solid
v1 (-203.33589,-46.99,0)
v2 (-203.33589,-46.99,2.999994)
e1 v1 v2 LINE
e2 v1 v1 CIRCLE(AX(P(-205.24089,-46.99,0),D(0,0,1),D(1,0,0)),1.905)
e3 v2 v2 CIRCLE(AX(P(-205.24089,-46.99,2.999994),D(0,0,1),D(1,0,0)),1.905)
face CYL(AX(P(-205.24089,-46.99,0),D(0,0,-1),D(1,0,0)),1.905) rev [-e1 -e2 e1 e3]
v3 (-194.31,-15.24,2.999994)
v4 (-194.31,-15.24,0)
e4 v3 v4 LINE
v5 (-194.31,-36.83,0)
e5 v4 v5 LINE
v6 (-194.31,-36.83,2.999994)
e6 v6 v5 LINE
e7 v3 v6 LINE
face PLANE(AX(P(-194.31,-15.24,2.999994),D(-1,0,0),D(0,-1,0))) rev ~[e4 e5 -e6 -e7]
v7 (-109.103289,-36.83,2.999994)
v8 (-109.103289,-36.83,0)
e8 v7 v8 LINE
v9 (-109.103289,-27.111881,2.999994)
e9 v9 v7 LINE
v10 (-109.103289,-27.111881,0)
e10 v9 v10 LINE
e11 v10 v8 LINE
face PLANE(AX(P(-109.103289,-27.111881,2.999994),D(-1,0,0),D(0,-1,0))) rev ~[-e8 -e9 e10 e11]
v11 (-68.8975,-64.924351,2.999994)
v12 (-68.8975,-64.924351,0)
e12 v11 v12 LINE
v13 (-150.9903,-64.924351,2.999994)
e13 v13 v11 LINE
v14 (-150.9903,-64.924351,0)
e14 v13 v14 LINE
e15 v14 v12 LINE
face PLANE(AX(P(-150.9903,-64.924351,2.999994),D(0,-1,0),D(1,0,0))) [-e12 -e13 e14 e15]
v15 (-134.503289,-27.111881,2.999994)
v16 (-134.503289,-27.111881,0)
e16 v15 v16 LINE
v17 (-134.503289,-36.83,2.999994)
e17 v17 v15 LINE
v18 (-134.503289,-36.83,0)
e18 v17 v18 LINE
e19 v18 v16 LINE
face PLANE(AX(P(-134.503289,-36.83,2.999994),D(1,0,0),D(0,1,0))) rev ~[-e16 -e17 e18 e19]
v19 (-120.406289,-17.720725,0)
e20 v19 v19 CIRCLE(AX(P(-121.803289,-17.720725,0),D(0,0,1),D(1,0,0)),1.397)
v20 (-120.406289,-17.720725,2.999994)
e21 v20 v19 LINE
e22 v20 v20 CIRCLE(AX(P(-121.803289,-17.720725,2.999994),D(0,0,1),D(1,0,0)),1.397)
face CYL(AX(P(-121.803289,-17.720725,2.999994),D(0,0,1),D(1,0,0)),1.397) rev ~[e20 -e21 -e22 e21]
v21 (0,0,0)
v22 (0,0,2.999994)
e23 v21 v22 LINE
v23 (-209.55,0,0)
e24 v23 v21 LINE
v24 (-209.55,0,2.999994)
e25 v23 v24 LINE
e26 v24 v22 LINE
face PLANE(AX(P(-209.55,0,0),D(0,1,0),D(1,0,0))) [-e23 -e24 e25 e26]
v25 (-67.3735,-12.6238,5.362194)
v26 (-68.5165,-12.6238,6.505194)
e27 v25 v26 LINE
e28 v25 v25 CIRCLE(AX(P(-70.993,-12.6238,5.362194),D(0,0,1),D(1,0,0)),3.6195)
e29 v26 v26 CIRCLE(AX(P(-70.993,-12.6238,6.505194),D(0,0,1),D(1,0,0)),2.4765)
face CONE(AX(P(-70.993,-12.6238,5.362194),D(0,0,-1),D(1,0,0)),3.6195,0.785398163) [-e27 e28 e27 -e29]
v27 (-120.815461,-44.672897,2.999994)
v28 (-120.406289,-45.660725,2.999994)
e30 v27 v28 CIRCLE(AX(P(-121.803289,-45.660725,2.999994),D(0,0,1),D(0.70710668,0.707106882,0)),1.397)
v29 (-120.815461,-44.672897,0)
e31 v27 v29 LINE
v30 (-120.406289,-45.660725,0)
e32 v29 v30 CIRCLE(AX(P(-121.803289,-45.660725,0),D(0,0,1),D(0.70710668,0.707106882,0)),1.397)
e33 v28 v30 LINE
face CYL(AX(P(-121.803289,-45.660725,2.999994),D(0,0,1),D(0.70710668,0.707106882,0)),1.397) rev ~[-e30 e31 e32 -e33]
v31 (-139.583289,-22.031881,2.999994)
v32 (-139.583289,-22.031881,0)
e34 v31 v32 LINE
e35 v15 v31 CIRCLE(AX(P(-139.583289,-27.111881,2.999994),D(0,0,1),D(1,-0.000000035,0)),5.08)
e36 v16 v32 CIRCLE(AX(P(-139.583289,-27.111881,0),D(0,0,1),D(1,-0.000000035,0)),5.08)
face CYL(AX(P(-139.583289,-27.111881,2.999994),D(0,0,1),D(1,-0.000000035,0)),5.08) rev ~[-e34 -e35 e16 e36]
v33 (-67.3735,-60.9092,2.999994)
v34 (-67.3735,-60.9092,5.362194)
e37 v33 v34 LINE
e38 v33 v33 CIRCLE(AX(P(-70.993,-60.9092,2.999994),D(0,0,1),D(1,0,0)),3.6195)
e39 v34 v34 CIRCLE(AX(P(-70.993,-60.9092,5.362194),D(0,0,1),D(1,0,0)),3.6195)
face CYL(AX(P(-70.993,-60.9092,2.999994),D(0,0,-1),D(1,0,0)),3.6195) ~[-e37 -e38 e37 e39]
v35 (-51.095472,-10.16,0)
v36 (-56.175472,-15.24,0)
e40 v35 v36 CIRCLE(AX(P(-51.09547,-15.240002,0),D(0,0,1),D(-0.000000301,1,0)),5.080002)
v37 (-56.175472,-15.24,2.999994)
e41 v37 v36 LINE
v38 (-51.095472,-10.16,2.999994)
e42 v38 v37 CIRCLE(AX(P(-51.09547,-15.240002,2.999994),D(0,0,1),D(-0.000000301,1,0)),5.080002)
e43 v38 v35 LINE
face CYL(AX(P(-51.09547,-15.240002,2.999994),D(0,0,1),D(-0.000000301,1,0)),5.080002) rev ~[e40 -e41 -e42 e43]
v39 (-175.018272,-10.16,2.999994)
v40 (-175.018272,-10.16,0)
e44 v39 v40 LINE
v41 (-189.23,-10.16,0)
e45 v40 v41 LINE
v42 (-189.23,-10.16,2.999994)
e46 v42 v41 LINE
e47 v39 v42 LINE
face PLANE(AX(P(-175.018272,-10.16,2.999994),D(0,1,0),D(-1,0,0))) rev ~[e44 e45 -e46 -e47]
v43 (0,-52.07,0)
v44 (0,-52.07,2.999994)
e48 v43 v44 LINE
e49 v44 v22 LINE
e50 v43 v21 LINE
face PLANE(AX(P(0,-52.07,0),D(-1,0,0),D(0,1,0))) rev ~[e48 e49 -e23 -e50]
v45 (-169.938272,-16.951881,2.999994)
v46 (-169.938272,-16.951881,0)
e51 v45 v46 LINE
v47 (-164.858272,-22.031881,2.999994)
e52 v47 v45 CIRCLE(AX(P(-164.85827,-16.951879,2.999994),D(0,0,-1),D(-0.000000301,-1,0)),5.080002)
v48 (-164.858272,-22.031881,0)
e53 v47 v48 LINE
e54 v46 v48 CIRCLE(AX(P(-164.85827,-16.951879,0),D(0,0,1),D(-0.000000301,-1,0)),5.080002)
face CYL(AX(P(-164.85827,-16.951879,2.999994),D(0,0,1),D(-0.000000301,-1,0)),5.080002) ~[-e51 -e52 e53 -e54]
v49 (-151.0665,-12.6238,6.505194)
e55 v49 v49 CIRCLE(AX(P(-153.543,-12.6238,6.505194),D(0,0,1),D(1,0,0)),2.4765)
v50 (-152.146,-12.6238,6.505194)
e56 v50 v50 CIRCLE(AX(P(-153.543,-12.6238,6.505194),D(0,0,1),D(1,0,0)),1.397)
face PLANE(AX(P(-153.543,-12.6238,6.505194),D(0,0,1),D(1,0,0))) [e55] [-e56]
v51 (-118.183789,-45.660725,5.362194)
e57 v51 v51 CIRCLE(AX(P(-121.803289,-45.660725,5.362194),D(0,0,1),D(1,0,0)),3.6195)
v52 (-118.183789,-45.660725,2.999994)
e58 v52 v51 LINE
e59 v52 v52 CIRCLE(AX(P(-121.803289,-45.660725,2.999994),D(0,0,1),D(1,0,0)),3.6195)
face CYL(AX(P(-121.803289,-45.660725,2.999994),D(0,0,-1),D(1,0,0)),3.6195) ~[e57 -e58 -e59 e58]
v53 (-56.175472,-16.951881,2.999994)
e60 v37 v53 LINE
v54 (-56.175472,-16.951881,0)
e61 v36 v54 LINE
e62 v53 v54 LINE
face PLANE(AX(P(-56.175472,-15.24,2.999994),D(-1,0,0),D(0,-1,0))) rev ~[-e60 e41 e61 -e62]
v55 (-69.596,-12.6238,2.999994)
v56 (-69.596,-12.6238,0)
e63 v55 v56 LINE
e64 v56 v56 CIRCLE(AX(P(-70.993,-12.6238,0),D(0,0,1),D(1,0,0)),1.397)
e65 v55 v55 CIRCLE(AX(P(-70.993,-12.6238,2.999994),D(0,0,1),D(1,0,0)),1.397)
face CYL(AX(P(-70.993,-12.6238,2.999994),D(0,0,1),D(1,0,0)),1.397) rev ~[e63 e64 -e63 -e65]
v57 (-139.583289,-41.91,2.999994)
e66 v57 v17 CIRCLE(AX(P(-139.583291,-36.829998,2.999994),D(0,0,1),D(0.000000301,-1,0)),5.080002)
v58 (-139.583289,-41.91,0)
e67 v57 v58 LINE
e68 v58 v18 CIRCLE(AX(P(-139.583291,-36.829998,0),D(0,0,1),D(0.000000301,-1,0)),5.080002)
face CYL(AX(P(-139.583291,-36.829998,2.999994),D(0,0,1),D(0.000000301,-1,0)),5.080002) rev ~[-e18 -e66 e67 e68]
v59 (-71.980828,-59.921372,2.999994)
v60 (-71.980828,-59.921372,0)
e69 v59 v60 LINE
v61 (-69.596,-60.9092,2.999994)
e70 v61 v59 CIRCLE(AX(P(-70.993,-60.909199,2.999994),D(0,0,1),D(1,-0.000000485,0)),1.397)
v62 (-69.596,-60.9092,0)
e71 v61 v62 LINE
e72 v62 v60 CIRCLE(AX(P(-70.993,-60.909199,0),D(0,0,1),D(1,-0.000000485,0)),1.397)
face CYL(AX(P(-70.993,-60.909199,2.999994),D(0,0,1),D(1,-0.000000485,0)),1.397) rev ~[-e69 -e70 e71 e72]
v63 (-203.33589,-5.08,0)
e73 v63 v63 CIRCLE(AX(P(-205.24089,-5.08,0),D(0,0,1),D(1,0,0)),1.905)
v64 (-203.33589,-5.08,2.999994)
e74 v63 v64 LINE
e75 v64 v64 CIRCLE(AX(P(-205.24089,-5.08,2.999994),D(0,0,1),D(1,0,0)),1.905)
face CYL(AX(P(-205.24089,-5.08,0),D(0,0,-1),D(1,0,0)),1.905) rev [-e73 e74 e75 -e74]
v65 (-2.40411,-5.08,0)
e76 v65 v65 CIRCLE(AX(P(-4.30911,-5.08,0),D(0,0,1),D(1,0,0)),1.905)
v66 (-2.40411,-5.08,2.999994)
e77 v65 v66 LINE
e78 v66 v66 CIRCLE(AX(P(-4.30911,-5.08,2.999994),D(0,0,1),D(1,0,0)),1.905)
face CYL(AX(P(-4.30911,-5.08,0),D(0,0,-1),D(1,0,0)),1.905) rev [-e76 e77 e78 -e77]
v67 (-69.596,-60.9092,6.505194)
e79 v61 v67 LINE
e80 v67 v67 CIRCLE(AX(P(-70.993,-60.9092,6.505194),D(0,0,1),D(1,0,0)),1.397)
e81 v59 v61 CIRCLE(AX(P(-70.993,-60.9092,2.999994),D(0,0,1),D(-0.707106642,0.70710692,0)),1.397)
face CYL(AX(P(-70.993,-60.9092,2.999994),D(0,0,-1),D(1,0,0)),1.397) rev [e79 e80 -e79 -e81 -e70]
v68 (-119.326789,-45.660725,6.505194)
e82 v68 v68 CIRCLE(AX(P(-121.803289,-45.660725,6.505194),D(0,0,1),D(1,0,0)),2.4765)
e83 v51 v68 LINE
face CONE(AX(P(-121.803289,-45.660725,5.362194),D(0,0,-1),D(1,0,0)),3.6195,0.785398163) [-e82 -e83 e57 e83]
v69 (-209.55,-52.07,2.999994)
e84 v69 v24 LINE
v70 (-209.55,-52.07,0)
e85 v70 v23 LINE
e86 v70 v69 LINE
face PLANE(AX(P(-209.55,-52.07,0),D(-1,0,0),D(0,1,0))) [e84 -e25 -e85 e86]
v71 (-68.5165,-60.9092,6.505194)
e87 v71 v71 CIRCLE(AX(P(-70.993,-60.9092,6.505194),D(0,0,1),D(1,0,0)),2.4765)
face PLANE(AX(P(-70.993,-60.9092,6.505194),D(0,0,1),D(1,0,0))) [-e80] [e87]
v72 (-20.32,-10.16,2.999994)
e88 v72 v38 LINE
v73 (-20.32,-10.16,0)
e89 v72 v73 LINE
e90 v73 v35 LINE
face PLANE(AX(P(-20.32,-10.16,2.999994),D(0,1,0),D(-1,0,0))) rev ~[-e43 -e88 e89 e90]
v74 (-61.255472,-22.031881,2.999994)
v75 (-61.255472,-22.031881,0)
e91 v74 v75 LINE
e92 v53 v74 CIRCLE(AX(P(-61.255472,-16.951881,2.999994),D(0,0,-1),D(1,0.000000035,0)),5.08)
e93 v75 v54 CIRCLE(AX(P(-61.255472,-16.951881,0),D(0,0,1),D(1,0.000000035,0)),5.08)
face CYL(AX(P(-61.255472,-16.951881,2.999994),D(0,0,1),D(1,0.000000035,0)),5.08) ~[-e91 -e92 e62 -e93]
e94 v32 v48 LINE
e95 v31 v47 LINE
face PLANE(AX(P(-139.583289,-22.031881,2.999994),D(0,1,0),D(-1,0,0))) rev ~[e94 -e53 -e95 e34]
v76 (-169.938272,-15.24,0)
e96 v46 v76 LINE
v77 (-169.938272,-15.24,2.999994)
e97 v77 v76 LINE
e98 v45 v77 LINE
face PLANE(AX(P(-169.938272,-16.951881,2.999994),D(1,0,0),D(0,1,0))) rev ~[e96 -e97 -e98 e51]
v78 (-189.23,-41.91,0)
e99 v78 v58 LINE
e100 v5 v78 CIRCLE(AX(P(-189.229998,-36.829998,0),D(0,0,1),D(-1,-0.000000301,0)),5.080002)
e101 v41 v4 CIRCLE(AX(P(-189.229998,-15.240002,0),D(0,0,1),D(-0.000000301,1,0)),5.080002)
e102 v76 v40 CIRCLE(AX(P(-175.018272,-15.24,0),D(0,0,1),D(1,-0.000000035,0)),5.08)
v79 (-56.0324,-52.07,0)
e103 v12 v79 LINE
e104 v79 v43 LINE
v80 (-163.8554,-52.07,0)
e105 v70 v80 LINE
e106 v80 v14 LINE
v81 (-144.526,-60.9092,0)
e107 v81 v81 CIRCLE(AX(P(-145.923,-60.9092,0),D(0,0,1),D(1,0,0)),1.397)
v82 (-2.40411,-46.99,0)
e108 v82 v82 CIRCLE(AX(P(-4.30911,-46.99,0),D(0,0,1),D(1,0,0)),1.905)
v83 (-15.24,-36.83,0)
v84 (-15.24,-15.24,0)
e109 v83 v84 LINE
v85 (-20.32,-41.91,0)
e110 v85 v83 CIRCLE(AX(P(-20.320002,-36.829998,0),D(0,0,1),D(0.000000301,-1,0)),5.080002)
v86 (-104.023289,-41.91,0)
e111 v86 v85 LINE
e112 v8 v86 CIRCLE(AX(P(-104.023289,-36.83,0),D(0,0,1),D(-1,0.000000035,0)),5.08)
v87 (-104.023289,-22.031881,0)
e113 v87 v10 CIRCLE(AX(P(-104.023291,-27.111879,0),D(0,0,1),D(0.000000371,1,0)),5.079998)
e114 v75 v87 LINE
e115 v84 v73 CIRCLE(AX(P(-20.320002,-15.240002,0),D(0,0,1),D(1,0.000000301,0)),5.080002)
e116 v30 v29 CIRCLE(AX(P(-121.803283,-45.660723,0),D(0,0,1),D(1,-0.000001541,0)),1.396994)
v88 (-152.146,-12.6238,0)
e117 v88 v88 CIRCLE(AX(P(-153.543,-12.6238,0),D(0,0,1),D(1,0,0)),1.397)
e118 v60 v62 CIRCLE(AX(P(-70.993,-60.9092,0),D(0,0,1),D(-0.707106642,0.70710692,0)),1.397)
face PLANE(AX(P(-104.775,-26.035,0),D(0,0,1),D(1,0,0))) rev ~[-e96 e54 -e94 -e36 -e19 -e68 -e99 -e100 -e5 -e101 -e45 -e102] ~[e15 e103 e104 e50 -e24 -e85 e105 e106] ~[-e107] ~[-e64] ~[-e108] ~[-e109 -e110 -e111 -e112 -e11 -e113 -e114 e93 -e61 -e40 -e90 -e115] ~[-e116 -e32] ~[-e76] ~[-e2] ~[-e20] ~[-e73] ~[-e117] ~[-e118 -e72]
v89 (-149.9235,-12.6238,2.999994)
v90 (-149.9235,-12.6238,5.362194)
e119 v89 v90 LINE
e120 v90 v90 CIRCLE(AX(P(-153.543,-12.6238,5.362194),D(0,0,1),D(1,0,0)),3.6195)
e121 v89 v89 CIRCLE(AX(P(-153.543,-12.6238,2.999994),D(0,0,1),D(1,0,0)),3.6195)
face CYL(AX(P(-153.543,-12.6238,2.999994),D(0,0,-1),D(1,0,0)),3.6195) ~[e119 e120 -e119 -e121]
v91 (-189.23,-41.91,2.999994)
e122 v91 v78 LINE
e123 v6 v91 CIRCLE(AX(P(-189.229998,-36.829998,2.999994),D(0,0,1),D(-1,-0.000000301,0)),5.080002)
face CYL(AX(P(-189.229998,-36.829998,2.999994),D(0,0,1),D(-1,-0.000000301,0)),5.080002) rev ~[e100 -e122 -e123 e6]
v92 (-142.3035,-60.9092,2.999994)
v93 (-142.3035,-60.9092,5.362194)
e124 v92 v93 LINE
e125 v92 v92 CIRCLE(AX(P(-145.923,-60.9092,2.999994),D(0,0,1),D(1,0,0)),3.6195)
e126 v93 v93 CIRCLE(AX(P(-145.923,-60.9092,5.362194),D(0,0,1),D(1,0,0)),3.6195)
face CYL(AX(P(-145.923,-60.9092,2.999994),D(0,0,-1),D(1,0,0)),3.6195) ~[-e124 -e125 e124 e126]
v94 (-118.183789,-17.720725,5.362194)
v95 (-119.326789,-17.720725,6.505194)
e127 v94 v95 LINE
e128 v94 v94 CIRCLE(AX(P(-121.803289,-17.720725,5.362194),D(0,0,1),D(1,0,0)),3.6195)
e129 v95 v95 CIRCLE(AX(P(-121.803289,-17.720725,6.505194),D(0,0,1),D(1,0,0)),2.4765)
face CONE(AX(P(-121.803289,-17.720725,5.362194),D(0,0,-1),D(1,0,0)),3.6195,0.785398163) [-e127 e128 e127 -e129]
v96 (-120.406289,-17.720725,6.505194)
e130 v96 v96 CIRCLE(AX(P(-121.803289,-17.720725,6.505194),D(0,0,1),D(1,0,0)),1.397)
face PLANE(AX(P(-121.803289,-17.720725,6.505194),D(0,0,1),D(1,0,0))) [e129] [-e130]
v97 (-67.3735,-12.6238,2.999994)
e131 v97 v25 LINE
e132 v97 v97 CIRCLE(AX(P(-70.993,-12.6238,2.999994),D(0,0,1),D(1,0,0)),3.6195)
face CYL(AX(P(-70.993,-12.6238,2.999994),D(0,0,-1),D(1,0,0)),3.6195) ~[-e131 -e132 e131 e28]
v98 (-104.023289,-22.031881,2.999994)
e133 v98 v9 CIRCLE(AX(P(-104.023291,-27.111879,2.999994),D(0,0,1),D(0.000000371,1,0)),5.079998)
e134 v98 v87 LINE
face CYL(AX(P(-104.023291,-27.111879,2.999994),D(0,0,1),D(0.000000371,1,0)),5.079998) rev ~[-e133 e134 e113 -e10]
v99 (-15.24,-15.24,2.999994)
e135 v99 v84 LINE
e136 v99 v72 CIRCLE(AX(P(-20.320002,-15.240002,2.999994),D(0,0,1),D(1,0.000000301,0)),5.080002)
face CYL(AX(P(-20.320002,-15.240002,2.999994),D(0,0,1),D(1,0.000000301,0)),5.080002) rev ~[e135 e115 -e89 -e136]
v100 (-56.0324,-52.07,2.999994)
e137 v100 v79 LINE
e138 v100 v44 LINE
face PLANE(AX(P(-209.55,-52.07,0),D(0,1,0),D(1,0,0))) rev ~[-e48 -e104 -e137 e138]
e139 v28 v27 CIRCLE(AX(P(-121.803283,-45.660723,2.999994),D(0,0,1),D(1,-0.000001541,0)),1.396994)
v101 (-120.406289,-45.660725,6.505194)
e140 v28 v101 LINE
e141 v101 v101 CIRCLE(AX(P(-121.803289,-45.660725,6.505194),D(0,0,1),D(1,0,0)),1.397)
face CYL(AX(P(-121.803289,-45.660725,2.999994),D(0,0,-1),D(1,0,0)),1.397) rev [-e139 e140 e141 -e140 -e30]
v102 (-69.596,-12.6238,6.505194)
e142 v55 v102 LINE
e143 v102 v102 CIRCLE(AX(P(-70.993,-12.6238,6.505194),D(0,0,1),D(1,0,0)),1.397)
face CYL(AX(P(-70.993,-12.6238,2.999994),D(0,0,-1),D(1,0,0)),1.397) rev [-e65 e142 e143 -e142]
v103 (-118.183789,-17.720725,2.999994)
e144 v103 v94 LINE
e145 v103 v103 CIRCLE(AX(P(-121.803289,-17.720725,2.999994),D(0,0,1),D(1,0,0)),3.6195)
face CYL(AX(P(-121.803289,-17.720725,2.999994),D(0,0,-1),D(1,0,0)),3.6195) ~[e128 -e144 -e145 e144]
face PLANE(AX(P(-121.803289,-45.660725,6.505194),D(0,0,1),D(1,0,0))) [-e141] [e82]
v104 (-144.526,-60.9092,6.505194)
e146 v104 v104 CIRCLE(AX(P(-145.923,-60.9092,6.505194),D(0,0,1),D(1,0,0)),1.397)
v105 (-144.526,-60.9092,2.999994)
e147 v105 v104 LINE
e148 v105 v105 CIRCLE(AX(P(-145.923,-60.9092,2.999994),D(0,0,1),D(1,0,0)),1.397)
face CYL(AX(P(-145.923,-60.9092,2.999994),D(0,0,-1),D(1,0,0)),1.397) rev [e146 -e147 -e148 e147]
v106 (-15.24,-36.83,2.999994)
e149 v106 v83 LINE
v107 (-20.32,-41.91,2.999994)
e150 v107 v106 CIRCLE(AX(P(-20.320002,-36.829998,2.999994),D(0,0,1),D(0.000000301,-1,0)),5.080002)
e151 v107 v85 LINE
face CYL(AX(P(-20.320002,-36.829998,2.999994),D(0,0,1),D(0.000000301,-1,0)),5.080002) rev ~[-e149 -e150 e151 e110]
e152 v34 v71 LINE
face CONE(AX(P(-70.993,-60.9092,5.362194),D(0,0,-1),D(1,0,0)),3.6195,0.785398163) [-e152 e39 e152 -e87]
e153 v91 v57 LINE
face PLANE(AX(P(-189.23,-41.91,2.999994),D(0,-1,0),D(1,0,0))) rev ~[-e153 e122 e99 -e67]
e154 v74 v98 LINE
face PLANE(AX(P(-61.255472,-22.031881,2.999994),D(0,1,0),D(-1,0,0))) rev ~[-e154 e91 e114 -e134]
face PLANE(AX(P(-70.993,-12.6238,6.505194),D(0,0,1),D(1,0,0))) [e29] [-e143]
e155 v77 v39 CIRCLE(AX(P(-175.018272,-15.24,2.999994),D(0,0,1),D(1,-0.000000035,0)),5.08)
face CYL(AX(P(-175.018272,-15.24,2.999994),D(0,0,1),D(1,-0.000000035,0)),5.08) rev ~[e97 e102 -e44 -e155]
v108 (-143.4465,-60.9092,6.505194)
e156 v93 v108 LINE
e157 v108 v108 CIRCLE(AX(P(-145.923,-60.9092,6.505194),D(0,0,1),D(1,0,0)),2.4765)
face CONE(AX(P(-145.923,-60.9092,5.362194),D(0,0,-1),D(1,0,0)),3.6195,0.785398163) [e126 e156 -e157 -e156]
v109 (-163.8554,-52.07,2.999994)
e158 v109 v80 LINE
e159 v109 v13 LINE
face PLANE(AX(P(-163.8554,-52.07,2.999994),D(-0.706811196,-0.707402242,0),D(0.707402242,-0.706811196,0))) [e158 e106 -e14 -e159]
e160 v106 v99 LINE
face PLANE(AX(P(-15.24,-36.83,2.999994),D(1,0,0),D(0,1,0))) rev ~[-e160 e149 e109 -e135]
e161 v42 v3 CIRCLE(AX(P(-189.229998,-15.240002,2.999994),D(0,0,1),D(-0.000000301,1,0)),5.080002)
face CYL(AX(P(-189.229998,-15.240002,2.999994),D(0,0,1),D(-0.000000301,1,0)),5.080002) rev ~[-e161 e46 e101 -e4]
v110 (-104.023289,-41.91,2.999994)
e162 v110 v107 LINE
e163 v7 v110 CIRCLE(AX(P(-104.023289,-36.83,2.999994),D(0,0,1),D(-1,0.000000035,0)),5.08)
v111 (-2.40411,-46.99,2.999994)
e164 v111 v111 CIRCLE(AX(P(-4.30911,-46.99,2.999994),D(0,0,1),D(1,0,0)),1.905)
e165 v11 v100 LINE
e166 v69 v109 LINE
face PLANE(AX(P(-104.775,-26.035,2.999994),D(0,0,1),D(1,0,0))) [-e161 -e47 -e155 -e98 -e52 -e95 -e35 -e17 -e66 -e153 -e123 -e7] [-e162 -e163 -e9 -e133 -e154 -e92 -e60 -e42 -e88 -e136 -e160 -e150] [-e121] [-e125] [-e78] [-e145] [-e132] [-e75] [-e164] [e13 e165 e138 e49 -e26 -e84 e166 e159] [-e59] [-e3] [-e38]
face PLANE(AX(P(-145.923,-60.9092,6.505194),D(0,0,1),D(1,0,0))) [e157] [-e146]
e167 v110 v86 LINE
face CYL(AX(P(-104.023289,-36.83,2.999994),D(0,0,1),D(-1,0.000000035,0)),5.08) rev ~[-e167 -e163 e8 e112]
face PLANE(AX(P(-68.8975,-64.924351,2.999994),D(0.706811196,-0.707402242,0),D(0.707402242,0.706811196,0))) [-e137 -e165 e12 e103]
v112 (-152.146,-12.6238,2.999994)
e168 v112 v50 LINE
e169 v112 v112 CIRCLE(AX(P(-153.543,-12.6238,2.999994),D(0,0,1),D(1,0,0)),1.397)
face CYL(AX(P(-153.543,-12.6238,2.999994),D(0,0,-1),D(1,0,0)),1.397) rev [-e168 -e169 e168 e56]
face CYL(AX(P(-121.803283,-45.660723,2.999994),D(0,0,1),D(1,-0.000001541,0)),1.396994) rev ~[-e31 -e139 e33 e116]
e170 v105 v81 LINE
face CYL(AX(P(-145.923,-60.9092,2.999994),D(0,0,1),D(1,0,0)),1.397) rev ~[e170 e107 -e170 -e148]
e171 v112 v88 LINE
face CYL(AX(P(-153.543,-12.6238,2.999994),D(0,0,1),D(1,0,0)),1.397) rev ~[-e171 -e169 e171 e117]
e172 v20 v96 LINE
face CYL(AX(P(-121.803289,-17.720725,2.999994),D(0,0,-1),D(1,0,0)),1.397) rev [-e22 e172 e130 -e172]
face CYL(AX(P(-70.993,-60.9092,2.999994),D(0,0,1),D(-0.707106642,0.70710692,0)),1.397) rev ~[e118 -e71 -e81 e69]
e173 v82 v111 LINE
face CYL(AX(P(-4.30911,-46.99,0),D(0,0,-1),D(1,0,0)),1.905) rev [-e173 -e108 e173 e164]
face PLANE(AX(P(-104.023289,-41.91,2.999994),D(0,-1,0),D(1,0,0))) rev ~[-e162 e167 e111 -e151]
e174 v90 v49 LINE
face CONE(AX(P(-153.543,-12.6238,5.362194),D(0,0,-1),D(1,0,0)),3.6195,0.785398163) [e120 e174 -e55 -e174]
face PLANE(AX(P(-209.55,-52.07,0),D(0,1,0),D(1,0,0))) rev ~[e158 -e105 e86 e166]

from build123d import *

# Parameters (mm, degrees)
F0_W      = 209.55
F0_H      = 52.07
F0_R      = 1.905
F1_DEPTH  = 2.999994
F3_DEPTH  = 2.999994
F4_R      = 1.397
F5_DEPTH  = 25.4
F6_R      = 3.6195
F6_R_2    = 1.397
F7_DEPTH  = 3.5052
F8_SIZE   = 1.143
F10_DEPTH = 25.4


with BuildPart() as f1:
    # F0 (on Top) → F1 (new body)
    with BuildSketch(Plane.XY):
        with Locations((-104.775, -26.035)):
            Rectangle(F0_W, F0_H)
        with Locations((-205.24089, -46.99)):
            Circle(F0_R, mode=Mode.SUBTRACT)
        with Locations((-4.30911, -46.99)):
            Circle(F0_R, mode=Mode.SUBTRACT)
        with Locations((-205.24089, -5.08)):
            Circle(F0_R, mode=Mode.SUBTRACT)
        with Locations((-4.30911, -5.08)):
            Circle(F0_R, mode=Mode.SUBTRACT)
    extrude(amount=F1_DEPTH)

    # F2 (on face) → F3 (join, through all)
    with BuildSketch(Plane.XY.offset(2.999994)):
        Polygon((-56.0324, -52.07), (-163.8554, -52.07), (-150.9903, -64.924351), (-68.8975, -64.924351), align=None)
    extrude(amount=-F3_DEPTH)

    # F4 (on face) → F5 (cut)
    with BuildSketch(Plane.XY.offset(2.999994)):
        with Locations((-70.993, -12.6238)):
            Circle(F4_R)
        with BuildLine():
            ThreePointArc((-71.980828, -59.921372), (-71.527609, -62.19986), (-69.596, -60.9092))
            ThreePointArc((-69.596, -60.9092), (-70.458391, -59.61854), (-71.980828, -59.921372))
        make_face()
        with BuildLine():
            ThreePointArc((-120.406289, -45.660725), (-120.512629, -45.126116), (-120.815461, -44.672897))
            ThreePointArc((-120.815461, -44.672897), (-123.093949, -46.195334), (-120.406289, -45.660725))
        make_face()
        with Locations((-153.543, -12.6238)):
            Circle(F4_R)
        with Locations((-145.923, -60.9092)):
            Circle(F4_R)
        with Locations((-121.803289, -17.720725)):
            Circle(F4_R)
    extrude(amount=-F5_DEPTH, mode=Mode.SUBTRACT)

    # F6 (on face) → F7 (join)
    with BuildSketch(Plane.XY.offset(2.999994)):
        with Locations((-153.543, -12.6238)):
            Circle(F6_R)
        with Locations((-153.543, -12.6238)):
            Circle(F6_R_2, mode=Mode.SUBTRACT)
        with Locations((-145.923, -60.9092)):
            Circle(F6_R)
        with Locations((-145.923, -60.9092)):
            Circle(F6_R_2, mode=Mode.SUBTRACT)
        with Locations((-121.803289, -45.660725)):
            Circle(F6_R)
        with Locations((-121.803289, -45.660725)):
            Circle(F6_R_2, mode=Mode.SUBTRACT)
        with Locations((-121.803289, -17.720725)):
            Circle(F6_R)
        with Locations((-121.803289, -17.720725)):
            Circle(F6_R_2, mode=Mode.SUBTRACT)
        with Locations((-70.993, -12.6238)):
            Circle(F6_R)
        with Locations((-70.993, -12.6238)):
            Circle(F6_R_2, mode=Mode.SUBTRACT)
        with Locations((-70.993, -60.9092)):
            Circle(F6_R)
        with Locations((-70.993, -60.9092)):
            Circle(F6_R_2, mode=Mode.SUBTRACT)
    extrude(amount=F7_DEPTH)

    # F8
    f8_edges = [f1.edges().sort_by_distance(p)[0] for p in [
        (-157.1625, -12.6238, 6.505194),
        (-125.422789, -17.720725, 6.505194),
        (-125.422789, -45.660725, 6.505194),
        (-149.5425, -60.9092, 6.505194),
        (-74.6125, -60.9092, 6.505194),
        (-74.6125, -12.6238, 6.505194),
    ]]
    chamfer(f8_edges, length=F8_SIZE)

    # F9 (on face) → F10 (cut)
    with BuildSketch(Plane.XY.offset(2.999994)):
        with BuildLine():
            ThreePointArc((-15.24, -15.24), (-16.727898, -11.647898), (-20.32, -10.16))
            Line((-20.32, -10.16), (-51.095472, -10.16))
            ThreePointArc((-51.095472, -10.16), (-54.687574, -11.647898), (-56.175472, -15.24))
            Line((-56.175472, -15.24), (-56.175472, -16.951881))
            ThreePointArc((-56.175472, -16.951881), (-57.663369, -20.543983), (-61.255472, -22.031881))
            Line((-61.255472, -22.031881), (-104.023289, -22.031881))
            ThreePointArc((-104.023289, -22.031881), (-107.615392, -23.519778), (-109.103289, -27.111881))
            Line((-109.103289, -27.111881), (-109.103289, -36.83))
            ThreePointArc((-109.103289, -36.83), (-107.615392, -40.422102), (-104.023289, -41.91))
            Line((-104.023289, -41.91), (-56.175472, -41.91))
            Line((-56.175472, -41.91), (-20.32, -41.91))
            ThreePointArc((-20.32, -41.91), (-16.727898, -40.422102), (-15.24, -36.83))
            Line((-15.24, -36.83), (-15.24, -15.24))
        make_face()
        with BuildLine():
            Line((-175.018272, -10.16), (-189.23, -10.16))
            ThreePointArc((-189.23, -10.16), (-192.822102, -11.647898), (-194.31, -15.24))
            Line((-194.31, -15.24), (-194.31, -36.83))
            ThreePointArc((-194.31, -36.83), (-192.822102, -40.422102), (-189.23, -41.91))
            Line((-189.23, -41.91), (-169.938272, -41.91))
            Line((-169.938272, -41.91), (-139.583289, -41.91))
            ThreePointArc((-139.583289, -41.91), (-135.991187, -40.422102), (-134.503289, -36.83))
            Line((-134.503289, -36.83), (-134.503289, -27.111881))
            ThreePointArc((-134.503289, -27.111881), (-135.991187, -23.519778), (-139.583289, -22.031881))
            Line((-139.583289, -22.031881), (-164.858272, -22.031881))
            ThreePointArc((-164.858272, -22.031881), (-168.450374, -20.543983), (-169.938272, -16.951881))
            Line((-169.938272, -16.951881), (-169.938272, -15.24))
            ThreePointArc((-169.938272, -15.24), (-171.426169, -11.647898), (-175.018272, -10.16))
        make_face()
    extrude(amount=-F10_DEPTH, mode=Mode.SUBTRACT)


solid = f1.part
